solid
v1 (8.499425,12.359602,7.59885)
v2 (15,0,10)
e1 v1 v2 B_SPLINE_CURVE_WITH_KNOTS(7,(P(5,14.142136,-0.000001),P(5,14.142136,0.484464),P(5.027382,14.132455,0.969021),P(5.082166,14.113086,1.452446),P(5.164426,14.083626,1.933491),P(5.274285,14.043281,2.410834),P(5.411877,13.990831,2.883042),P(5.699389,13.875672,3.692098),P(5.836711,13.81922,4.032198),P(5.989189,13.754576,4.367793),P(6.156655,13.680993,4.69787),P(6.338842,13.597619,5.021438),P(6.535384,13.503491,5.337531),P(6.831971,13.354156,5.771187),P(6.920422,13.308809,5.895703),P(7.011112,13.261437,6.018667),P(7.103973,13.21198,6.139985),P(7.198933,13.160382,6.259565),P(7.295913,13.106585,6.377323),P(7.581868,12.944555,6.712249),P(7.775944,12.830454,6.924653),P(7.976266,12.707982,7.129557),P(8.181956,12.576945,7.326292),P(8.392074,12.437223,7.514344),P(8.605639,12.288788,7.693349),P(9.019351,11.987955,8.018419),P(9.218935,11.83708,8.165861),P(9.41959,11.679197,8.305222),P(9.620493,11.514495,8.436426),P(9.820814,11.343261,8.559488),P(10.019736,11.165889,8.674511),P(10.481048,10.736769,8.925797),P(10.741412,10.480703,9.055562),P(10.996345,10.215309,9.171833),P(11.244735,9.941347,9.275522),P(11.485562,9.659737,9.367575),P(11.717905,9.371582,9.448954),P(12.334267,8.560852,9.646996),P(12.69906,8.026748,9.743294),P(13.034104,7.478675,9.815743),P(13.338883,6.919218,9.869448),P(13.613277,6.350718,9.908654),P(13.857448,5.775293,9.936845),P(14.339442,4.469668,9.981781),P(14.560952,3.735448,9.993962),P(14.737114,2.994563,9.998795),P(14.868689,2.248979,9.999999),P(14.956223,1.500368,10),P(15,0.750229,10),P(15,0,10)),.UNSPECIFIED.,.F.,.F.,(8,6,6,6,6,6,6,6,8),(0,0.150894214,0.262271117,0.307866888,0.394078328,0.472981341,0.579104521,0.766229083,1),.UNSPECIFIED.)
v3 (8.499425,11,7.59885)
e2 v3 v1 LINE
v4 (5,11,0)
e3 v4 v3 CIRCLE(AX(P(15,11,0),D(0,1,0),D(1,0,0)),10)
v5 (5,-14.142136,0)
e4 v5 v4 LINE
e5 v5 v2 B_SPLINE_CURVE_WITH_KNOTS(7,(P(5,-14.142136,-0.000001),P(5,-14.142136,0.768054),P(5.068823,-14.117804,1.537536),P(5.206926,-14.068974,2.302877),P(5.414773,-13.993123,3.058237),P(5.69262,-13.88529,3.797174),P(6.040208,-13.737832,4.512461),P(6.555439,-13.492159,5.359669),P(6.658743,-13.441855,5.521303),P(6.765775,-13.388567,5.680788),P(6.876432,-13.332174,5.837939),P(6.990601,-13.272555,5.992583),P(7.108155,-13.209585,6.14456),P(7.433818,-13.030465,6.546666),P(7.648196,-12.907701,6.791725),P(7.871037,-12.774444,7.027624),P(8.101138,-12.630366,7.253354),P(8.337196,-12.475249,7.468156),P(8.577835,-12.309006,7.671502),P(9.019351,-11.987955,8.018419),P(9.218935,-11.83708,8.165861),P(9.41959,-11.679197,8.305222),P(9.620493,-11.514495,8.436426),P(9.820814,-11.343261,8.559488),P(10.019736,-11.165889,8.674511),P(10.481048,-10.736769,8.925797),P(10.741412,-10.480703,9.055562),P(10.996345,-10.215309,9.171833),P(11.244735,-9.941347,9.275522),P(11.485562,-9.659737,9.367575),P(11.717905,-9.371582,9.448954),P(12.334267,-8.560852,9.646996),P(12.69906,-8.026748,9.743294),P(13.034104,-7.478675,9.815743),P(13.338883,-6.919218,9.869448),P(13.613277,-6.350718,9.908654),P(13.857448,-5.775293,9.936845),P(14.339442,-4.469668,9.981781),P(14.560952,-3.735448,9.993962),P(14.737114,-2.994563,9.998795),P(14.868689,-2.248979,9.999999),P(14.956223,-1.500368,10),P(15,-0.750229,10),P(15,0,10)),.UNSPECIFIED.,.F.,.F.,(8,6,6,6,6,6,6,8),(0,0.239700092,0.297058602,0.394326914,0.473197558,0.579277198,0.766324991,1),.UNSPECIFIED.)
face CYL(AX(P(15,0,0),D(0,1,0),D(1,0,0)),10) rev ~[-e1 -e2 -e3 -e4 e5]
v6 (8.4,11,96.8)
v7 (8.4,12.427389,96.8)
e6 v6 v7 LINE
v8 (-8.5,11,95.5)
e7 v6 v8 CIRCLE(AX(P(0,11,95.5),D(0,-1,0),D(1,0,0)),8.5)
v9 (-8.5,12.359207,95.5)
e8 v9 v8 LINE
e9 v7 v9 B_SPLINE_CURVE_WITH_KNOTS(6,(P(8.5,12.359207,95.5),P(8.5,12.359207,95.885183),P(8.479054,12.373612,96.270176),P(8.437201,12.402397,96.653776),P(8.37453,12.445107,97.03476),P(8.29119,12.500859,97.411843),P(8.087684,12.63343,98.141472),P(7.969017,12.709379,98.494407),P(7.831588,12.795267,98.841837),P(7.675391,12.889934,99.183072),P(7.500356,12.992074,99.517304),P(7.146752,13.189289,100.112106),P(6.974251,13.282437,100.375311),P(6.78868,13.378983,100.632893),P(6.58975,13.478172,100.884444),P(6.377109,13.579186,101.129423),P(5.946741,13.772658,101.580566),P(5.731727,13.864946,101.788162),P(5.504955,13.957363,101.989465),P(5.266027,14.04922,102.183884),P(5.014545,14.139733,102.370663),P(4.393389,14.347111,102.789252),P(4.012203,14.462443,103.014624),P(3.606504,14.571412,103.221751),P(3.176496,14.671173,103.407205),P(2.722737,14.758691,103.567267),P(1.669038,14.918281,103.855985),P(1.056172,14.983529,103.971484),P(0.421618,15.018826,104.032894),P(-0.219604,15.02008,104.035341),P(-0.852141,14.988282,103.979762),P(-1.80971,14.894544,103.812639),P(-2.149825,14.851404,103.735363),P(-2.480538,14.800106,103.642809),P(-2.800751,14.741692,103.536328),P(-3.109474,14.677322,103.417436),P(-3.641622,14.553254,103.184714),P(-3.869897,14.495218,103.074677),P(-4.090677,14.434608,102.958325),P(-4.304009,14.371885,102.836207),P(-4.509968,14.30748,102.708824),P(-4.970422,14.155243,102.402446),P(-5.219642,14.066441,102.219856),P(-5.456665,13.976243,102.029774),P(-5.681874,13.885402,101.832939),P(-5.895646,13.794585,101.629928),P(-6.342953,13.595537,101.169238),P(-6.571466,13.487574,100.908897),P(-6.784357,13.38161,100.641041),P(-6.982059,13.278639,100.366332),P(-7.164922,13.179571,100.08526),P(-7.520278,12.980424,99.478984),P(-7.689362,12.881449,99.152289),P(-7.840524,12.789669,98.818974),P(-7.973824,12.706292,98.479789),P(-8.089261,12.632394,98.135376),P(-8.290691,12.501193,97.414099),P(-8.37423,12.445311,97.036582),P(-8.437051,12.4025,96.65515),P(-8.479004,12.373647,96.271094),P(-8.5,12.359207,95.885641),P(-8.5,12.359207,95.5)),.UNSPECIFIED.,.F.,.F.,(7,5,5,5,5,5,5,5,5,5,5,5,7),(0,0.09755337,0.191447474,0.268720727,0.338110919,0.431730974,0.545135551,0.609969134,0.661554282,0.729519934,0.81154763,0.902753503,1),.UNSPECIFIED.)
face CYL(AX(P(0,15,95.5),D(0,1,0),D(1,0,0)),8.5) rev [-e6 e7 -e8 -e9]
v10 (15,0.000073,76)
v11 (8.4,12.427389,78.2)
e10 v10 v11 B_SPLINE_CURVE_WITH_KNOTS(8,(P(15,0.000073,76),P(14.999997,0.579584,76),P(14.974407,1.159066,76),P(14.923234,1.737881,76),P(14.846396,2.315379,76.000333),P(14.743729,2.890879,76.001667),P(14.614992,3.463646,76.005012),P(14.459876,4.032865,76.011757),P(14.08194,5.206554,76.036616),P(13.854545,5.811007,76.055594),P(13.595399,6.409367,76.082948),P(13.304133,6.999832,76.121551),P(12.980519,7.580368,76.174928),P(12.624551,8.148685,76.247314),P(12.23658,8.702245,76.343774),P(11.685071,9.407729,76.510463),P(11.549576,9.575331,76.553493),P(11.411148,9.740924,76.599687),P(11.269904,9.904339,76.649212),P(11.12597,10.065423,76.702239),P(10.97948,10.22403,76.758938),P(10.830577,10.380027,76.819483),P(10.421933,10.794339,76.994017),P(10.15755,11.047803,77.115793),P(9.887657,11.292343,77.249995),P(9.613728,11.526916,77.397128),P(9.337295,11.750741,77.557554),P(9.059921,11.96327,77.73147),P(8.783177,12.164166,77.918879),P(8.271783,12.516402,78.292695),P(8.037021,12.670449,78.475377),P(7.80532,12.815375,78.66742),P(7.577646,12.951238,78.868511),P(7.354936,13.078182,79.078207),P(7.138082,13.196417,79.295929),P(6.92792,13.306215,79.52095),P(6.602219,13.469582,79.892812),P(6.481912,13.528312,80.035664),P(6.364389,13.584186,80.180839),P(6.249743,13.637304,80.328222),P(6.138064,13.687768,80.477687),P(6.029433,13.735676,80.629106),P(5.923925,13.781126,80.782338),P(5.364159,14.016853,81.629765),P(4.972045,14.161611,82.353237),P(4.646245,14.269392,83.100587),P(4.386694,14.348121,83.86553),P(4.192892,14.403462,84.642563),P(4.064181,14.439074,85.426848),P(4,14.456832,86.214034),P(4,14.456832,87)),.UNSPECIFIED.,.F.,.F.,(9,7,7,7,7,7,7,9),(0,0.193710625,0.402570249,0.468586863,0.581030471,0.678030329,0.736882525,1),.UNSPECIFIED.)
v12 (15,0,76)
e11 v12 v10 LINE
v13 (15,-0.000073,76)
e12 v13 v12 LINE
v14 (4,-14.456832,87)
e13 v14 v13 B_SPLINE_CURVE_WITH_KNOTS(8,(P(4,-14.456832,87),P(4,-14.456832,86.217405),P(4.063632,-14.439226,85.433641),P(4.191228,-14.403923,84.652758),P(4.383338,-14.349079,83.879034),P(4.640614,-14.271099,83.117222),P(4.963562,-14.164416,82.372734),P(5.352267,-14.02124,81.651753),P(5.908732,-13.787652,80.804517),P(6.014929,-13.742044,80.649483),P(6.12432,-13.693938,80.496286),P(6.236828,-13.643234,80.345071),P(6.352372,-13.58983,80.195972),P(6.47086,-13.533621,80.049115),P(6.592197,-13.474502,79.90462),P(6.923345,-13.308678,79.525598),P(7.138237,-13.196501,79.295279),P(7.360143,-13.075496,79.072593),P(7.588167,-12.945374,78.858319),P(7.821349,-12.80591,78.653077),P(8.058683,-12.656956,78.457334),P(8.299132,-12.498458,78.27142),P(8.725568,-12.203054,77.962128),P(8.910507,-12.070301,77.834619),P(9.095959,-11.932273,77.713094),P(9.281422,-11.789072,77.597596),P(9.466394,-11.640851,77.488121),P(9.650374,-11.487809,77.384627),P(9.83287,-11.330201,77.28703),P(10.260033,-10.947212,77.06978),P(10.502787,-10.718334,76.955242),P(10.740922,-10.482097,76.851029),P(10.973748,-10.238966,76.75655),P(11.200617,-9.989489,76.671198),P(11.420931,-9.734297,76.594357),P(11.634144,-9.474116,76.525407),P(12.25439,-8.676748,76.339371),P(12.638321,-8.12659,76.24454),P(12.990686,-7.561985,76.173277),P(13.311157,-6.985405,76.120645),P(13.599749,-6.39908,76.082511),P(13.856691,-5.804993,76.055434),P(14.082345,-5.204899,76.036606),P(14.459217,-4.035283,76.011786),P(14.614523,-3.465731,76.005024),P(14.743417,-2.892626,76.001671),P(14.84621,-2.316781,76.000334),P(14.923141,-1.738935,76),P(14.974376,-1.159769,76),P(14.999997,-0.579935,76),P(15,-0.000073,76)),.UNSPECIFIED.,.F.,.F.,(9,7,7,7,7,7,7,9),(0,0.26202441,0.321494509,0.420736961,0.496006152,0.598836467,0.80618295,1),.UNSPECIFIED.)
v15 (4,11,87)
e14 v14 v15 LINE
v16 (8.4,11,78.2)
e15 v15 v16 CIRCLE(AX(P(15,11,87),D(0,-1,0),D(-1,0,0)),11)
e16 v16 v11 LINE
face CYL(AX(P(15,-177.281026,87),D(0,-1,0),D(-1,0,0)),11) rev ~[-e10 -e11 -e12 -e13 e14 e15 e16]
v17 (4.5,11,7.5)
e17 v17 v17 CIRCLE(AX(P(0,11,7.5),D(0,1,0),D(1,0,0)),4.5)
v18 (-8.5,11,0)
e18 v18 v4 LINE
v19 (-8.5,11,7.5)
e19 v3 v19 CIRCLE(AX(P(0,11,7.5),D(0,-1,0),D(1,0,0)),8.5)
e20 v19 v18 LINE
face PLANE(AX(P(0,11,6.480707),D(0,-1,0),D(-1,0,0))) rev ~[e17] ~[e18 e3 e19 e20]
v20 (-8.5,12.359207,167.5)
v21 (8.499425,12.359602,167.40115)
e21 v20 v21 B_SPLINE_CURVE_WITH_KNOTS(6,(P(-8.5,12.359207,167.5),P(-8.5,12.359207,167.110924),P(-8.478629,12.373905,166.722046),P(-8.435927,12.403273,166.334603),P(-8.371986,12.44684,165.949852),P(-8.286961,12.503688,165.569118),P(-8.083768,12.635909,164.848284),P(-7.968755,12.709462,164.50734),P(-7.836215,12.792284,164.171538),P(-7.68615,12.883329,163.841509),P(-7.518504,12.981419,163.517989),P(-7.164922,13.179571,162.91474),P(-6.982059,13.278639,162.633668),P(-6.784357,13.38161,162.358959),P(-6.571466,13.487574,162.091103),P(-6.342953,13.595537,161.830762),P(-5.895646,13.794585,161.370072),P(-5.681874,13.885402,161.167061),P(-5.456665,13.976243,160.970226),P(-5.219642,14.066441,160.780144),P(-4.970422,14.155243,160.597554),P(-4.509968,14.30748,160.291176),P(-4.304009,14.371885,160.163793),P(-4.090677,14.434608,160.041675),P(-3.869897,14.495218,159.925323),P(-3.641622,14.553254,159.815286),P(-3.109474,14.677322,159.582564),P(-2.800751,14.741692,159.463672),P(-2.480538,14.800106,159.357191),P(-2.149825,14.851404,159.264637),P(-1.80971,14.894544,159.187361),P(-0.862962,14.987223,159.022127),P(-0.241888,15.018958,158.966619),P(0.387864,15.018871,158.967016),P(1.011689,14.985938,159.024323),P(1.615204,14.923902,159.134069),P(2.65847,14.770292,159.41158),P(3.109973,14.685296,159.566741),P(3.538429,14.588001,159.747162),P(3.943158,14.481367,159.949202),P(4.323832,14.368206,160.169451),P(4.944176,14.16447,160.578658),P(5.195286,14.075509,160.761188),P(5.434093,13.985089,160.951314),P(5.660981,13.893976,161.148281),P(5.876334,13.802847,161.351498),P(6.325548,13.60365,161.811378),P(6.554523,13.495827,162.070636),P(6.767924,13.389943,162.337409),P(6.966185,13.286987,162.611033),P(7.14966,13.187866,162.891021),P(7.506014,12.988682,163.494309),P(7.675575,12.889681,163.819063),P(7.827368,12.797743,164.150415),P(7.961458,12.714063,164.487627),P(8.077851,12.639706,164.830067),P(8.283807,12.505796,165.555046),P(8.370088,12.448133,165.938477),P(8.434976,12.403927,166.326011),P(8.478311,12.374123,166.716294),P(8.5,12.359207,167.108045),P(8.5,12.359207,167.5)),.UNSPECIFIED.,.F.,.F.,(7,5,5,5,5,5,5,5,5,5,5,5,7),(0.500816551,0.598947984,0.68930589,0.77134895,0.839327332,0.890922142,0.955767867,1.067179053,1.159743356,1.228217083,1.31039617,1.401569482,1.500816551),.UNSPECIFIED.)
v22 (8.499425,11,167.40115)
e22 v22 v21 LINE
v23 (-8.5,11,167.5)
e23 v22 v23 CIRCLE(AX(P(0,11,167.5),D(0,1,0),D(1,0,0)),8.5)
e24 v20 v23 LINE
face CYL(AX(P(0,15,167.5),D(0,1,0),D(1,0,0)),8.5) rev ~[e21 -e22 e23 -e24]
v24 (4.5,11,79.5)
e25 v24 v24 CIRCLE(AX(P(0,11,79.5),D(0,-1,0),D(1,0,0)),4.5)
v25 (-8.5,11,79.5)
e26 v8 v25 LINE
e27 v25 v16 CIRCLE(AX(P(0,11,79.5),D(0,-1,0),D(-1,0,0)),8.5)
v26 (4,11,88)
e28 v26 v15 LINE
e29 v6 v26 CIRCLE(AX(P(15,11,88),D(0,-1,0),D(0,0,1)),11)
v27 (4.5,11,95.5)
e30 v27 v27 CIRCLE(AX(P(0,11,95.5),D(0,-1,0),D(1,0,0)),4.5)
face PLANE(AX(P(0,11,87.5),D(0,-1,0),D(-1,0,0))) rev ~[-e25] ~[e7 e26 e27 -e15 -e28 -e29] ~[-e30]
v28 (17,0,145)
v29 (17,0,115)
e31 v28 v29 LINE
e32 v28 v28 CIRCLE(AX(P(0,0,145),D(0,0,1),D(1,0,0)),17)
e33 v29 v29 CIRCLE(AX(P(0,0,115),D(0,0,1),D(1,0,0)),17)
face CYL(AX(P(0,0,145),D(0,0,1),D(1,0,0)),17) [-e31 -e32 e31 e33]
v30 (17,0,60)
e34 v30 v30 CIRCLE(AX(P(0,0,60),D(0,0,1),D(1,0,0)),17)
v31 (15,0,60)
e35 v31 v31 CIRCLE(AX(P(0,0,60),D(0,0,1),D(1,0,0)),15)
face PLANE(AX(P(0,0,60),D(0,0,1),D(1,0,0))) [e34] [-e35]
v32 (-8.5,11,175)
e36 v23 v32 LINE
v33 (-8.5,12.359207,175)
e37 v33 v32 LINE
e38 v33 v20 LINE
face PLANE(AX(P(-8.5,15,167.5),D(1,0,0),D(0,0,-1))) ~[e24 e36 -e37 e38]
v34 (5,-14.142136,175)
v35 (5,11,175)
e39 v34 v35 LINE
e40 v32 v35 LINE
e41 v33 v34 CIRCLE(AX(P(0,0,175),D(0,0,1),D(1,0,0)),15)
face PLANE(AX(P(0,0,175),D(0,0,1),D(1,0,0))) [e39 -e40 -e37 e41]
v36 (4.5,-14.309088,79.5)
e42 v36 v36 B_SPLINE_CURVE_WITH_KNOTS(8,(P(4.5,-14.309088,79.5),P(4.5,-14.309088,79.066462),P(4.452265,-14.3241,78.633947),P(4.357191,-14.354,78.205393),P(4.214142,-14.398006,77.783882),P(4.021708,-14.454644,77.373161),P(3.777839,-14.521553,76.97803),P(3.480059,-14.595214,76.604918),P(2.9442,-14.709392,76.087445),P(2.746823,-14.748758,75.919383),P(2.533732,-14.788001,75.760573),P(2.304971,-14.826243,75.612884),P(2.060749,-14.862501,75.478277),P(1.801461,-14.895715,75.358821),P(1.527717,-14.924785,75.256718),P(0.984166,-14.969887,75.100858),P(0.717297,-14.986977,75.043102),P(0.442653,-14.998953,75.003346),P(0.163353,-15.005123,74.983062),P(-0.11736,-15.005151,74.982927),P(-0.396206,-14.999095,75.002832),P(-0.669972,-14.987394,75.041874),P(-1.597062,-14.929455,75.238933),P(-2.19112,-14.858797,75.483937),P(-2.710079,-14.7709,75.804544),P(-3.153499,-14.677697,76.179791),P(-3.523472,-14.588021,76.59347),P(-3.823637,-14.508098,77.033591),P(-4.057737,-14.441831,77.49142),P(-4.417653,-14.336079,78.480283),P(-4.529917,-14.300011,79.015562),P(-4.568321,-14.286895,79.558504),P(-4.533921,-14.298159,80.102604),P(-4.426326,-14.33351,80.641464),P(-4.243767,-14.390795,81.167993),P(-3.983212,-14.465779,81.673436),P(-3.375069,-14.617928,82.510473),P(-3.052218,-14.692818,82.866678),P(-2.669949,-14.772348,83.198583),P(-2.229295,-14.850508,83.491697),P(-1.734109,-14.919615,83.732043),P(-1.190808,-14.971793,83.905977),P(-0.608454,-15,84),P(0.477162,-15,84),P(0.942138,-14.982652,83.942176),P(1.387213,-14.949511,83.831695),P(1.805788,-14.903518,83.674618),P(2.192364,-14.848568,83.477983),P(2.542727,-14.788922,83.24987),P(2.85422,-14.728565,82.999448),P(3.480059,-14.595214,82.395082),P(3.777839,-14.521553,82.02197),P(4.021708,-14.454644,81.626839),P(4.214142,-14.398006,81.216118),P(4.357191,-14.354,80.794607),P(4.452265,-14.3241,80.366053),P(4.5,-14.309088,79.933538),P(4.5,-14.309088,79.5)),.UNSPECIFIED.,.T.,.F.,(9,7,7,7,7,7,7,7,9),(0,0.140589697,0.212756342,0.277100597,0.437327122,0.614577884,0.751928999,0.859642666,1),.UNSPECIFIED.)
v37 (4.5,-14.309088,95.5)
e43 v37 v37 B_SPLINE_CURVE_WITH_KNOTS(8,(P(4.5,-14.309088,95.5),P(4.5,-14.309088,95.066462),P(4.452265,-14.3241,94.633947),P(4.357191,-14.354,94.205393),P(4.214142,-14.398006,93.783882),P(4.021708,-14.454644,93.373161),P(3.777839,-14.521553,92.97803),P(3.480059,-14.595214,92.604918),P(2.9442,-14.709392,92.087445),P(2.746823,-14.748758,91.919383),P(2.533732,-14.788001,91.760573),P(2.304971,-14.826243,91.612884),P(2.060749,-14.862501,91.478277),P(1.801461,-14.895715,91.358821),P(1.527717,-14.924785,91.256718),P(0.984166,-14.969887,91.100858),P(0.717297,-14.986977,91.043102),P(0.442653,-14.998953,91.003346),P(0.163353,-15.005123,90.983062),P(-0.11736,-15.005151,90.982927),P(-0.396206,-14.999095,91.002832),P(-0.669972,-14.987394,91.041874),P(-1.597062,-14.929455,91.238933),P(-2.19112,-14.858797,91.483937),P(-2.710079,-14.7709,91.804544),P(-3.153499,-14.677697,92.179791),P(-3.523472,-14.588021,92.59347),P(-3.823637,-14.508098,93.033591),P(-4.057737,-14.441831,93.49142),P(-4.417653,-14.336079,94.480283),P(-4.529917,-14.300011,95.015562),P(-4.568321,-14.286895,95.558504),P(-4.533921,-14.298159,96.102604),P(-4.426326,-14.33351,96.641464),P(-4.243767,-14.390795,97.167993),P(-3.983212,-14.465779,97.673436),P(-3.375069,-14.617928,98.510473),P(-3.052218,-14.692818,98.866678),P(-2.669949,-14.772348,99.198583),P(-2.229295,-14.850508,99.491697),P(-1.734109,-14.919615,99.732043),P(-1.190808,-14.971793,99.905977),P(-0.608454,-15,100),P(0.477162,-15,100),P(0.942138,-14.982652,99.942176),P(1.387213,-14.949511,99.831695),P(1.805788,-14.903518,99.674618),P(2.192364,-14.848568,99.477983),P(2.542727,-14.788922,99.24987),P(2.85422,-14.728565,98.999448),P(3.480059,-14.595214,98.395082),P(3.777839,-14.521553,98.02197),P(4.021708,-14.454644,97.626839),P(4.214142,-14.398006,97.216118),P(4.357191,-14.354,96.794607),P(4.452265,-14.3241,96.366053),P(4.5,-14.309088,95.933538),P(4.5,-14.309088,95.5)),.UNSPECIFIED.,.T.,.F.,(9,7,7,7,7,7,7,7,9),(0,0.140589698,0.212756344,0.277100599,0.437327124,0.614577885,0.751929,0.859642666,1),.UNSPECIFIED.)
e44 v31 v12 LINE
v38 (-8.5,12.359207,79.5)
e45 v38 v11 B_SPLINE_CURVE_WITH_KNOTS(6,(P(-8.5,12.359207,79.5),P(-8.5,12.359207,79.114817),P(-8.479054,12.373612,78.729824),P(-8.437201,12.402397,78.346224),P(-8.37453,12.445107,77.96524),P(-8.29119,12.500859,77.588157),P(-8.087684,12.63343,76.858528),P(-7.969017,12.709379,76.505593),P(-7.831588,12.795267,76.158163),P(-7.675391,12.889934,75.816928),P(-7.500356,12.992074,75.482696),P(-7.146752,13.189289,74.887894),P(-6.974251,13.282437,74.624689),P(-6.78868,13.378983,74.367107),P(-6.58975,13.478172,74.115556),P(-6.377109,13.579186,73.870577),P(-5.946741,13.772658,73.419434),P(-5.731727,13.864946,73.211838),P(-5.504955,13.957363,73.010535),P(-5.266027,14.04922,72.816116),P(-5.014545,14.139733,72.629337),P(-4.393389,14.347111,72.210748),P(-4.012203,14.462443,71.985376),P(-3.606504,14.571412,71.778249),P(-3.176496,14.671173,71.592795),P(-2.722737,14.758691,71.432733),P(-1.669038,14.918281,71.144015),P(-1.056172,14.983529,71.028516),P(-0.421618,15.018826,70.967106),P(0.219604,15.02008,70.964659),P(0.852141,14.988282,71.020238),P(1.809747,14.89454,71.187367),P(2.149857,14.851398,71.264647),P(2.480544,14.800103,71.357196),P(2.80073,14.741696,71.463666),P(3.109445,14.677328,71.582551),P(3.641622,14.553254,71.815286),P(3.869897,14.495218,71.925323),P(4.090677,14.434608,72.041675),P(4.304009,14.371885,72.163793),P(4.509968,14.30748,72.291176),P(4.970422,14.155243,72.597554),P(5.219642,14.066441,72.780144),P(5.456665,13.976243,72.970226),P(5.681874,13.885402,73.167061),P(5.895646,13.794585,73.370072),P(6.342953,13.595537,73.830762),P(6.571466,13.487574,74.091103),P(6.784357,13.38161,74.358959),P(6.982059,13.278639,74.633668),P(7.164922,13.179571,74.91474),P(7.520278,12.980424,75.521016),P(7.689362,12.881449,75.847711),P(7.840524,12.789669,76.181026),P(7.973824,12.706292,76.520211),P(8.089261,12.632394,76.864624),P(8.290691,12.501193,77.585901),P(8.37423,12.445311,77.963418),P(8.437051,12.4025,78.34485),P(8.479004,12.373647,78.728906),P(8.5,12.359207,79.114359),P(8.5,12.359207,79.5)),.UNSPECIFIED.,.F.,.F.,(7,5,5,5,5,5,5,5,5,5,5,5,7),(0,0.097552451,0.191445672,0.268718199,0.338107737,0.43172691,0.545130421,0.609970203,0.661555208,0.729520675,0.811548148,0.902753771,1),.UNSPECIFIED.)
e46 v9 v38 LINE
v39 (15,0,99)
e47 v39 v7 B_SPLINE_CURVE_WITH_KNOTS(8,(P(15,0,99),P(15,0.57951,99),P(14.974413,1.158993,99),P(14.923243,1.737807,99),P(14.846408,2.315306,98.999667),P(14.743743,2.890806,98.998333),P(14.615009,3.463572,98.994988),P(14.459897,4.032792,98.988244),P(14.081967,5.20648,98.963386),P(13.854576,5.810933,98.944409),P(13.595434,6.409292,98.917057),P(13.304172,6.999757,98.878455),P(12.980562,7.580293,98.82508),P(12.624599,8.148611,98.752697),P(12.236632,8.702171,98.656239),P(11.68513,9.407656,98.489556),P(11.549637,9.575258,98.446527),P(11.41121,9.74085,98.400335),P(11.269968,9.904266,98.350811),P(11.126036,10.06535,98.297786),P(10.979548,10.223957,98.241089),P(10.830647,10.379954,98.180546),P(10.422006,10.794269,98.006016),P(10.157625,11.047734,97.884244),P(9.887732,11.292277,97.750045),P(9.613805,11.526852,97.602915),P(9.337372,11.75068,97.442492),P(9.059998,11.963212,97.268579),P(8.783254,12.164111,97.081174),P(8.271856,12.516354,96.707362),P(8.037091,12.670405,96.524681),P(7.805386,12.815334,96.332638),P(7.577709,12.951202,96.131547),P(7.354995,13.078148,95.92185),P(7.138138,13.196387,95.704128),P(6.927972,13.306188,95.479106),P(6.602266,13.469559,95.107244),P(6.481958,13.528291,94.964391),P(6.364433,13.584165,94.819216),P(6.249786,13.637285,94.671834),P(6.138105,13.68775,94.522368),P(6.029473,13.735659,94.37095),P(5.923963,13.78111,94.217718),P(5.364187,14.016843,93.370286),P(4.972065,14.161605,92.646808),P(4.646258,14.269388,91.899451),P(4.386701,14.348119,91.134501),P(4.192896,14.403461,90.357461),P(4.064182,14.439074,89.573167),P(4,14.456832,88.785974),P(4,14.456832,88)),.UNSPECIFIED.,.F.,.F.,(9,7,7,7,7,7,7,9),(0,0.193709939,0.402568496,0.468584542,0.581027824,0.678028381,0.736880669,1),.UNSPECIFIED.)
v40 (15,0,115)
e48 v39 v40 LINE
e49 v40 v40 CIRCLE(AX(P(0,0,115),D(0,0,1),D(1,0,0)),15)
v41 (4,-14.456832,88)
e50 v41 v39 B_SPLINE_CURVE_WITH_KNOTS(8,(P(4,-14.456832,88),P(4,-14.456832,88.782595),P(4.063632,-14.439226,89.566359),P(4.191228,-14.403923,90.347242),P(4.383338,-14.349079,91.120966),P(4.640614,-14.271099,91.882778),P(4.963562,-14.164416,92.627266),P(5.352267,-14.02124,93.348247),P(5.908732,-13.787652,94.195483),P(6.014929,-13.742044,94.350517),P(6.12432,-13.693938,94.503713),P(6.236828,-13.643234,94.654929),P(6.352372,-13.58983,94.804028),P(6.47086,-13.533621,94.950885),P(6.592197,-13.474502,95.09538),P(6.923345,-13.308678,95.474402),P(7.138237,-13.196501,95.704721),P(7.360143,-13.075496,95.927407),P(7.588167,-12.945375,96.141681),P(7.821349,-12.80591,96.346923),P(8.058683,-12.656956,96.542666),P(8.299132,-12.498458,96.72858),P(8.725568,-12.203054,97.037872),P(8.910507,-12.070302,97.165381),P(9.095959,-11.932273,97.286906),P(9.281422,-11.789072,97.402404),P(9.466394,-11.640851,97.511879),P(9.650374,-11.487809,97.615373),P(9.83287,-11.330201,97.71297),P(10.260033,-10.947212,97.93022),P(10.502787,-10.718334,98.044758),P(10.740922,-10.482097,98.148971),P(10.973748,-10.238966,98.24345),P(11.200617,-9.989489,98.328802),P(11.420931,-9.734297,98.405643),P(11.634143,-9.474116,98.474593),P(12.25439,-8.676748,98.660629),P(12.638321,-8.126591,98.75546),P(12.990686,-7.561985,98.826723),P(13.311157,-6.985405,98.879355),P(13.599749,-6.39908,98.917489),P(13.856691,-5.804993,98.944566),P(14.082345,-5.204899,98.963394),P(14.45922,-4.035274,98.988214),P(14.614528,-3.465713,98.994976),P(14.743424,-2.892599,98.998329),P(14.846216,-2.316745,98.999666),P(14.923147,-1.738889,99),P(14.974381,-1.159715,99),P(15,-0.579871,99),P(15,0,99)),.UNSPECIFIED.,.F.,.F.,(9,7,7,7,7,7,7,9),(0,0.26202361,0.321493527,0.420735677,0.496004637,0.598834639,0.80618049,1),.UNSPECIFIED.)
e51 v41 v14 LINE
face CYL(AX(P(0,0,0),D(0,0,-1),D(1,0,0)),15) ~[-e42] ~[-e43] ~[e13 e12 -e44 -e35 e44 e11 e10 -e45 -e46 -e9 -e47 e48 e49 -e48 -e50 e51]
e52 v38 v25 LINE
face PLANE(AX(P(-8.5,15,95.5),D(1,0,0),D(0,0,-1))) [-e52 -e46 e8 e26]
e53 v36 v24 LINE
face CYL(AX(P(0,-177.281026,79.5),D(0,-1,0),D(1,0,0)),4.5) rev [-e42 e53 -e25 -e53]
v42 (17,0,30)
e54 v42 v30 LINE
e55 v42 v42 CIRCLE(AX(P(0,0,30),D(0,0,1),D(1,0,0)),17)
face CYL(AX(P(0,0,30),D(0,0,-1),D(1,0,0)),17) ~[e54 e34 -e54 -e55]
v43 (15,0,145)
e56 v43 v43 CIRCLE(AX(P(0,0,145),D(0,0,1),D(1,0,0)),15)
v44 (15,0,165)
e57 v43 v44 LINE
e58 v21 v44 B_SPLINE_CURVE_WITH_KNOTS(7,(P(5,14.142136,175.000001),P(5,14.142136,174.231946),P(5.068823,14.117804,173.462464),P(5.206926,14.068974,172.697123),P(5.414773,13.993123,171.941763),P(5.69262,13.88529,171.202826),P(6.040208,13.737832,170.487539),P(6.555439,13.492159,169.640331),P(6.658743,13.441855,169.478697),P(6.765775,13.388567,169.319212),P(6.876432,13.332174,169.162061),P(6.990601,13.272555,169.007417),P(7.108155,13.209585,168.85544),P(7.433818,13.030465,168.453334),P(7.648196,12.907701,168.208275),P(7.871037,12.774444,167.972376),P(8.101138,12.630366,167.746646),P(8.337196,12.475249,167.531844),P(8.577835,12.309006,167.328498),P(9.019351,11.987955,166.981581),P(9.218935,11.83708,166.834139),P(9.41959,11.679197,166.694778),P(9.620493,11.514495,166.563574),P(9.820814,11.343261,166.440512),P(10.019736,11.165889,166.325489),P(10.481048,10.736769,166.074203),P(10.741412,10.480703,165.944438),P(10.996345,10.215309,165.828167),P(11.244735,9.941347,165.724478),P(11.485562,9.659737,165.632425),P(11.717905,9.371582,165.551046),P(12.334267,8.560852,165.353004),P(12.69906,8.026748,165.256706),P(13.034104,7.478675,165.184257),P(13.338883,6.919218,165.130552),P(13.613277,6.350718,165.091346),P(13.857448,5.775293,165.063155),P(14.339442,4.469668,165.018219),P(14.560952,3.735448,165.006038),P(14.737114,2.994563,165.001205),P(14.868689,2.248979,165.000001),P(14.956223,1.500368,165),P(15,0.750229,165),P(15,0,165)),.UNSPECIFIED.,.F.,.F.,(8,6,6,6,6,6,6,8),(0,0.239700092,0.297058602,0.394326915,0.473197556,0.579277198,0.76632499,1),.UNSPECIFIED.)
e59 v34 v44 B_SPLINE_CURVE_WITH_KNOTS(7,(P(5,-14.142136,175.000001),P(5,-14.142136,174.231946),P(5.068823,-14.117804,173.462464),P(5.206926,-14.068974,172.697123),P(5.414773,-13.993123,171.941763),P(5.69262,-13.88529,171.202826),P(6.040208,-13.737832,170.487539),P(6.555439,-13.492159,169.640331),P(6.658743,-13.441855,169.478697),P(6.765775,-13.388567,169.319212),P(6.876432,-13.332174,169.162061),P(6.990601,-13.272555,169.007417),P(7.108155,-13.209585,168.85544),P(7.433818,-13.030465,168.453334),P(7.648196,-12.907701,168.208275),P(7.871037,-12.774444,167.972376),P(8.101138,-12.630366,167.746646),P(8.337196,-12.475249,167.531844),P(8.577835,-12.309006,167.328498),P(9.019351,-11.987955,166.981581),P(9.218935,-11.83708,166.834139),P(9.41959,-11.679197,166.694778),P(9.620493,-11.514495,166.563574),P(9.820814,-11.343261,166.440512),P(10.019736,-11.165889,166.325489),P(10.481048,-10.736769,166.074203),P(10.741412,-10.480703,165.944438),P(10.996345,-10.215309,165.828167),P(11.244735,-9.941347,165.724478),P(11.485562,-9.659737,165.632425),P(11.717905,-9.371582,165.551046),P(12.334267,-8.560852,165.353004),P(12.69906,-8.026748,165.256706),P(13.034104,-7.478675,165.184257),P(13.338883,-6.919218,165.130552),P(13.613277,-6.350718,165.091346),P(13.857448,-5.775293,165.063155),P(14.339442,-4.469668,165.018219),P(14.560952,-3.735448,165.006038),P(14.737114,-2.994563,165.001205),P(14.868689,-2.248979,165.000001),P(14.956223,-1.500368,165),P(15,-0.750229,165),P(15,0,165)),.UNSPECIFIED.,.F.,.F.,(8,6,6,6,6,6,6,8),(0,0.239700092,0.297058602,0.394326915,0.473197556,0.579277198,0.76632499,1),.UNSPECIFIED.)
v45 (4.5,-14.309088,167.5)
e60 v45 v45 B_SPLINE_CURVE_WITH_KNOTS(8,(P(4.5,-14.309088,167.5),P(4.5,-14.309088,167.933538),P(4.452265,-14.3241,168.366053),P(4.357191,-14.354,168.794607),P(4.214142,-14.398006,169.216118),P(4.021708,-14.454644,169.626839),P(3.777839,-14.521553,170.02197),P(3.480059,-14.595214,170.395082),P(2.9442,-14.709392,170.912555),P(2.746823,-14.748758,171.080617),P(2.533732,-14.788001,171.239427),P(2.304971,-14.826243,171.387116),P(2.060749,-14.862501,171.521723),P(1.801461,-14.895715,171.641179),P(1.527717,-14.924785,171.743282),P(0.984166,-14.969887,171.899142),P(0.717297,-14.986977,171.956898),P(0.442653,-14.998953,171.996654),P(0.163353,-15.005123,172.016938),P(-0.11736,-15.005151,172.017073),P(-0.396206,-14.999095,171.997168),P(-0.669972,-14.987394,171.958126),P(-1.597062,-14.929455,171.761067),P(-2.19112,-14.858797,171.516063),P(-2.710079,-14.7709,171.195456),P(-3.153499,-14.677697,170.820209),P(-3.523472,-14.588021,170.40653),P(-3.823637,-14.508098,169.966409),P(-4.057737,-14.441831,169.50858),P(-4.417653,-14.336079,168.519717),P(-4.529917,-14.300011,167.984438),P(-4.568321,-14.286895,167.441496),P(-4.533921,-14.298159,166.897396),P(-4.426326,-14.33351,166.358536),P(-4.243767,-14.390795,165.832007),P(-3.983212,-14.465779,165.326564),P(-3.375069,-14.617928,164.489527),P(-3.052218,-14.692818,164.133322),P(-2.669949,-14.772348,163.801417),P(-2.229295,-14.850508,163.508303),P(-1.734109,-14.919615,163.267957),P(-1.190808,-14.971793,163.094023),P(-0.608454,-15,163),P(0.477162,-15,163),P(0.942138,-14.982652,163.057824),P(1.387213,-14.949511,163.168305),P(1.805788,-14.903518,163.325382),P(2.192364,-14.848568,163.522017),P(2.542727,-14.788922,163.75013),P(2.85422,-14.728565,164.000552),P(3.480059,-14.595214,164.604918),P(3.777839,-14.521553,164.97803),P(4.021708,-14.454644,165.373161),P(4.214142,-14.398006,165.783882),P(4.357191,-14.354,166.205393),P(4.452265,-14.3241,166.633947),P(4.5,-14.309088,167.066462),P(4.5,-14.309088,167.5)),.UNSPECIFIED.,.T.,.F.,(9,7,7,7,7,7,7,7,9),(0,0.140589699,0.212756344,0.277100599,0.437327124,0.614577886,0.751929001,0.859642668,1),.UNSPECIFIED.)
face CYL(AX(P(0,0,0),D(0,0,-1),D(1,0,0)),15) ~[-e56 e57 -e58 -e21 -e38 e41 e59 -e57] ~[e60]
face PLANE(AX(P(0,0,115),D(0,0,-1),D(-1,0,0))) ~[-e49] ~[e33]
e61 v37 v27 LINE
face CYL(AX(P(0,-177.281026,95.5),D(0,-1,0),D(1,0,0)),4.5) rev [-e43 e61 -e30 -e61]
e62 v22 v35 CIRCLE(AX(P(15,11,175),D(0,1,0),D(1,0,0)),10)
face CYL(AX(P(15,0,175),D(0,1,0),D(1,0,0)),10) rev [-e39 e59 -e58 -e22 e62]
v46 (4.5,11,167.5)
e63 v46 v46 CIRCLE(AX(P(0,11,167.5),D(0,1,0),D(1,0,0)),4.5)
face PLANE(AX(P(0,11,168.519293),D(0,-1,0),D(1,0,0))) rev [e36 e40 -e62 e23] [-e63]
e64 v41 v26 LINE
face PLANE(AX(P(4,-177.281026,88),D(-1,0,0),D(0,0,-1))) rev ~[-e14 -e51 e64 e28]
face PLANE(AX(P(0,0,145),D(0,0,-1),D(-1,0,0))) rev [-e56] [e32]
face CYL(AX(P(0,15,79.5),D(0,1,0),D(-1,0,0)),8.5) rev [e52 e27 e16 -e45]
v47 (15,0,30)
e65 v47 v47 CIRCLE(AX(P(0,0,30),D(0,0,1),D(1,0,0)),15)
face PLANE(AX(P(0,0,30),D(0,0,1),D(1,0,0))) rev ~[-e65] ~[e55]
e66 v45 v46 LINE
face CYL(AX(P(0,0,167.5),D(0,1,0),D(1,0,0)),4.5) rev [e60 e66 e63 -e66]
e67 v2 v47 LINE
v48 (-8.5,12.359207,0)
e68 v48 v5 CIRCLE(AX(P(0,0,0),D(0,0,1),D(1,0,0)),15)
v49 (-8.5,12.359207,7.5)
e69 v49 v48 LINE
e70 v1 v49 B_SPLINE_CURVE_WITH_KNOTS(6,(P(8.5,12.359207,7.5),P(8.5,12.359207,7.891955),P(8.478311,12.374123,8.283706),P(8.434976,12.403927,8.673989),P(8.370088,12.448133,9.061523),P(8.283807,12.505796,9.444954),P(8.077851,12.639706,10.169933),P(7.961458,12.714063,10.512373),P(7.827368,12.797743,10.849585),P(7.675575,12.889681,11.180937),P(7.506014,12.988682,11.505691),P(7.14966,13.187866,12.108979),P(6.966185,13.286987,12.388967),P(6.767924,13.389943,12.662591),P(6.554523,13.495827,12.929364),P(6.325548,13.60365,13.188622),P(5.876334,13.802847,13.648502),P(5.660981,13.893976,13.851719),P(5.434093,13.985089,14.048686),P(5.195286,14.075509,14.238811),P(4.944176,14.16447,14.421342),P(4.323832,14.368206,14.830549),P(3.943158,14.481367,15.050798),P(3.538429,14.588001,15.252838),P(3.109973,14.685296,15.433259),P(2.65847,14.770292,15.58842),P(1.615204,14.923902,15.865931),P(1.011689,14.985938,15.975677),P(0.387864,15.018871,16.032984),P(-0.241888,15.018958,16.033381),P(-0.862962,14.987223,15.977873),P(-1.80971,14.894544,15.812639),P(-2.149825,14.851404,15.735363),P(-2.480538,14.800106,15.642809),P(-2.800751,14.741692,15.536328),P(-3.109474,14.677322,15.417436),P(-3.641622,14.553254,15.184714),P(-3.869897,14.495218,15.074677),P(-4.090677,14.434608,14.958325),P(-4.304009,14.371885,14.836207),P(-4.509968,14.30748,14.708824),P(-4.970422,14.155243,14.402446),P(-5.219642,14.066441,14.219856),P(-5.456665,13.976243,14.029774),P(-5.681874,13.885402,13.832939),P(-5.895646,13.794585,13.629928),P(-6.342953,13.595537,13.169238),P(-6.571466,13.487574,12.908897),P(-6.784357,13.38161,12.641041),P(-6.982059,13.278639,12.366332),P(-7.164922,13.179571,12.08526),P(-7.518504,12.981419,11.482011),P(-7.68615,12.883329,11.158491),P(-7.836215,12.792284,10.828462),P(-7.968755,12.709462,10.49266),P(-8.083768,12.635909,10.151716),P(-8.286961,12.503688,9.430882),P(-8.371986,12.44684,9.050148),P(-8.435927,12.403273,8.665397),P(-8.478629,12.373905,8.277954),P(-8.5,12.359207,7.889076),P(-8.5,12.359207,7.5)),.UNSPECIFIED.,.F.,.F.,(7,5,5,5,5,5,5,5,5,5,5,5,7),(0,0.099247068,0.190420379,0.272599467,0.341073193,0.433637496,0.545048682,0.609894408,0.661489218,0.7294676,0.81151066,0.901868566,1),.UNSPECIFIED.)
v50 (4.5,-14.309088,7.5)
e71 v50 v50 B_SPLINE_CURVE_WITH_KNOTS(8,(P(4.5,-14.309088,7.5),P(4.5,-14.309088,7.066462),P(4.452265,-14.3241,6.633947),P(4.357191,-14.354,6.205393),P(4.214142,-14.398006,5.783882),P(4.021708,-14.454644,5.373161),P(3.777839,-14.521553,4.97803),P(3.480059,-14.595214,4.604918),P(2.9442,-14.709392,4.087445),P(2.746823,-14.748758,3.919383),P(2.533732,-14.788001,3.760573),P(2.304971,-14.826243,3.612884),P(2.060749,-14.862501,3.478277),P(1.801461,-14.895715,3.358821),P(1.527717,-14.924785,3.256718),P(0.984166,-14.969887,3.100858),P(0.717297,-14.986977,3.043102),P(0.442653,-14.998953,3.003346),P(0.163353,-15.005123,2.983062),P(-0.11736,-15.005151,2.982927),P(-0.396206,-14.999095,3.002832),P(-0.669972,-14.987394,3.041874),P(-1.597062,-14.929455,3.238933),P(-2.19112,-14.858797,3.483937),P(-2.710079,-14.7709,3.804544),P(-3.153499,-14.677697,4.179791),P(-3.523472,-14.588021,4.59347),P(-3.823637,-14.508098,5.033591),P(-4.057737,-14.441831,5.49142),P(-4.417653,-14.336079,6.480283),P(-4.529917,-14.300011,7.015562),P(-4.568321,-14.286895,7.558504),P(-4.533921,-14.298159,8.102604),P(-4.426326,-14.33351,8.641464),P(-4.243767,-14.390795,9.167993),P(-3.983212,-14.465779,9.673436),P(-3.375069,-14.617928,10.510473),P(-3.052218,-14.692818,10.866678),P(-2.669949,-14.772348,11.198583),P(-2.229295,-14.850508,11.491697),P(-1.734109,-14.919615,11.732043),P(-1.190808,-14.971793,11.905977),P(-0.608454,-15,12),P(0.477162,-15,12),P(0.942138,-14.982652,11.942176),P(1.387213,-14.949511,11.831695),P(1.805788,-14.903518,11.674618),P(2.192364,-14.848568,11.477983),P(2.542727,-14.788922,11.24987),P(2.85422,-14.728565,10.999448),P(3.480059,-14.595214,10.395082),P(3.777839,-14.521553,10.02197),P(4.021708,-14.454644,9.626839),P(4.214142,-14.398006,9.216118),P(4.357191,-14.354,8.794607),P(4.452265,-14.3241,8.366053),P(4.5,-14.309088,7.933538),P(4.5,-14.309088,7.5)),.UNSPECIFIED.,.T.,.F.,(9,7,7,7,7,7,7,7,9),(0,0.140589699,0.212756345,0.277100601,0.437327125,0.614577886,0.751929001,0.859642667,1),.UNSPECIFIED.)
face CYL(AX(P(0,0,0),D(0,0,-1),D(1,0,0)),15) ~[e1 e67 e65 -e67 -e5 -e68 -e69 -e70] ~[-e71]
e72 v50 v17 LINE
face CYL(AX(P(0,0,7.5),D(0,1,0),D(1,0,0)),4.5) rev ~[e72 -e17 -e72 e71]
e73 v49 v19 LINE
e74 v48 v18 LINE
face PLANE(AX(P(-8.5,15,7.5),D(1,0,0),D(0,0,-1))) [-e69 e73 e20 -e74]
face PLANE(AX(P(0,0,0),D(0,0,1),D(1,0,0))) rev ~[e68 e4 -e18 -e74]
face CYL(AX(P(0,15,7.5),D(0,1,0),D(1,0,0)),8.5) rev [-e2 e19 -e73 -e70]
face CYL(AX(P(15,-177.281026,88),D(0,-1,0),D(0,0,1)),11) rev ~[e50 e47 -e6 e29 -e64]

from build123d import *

# Parameters (mm, degrees)
CROQUIS1_R                 = 15
SALIENTE_EXTRUIR1_DEPTH    = 175
CROQUIS2_R                 = 4.5
CORTAR_EXTRUIR1_DEPTH      = 177.281025638
CORTAR_EXTRUIR2_START      = 15
CORTAR_EXTRUIR2_DEPTH      = 4
CROQUIS4_R                 = 10
CORTAR_EXTRUIR3_DEPTH      = 177.281025756
CORTAR_EXTRUIR4_DEPTH      = 177.281025756
CORTAR_EXTRUIR4_DEPTH_BACK = 177.281025756
CROQUIS9_R                 = 4.5
CORTAR_EXTRUIR5_START      = 15
CORTAR_EXTRUIR5_DEPTH      = 4
CORTAR_EXTRUIR6_DEPTH      = 177.281025756
CORTAR_EXTRUIR6_DEPTH_BACK = 177.281025756
SALIENTE_EXTRUIR2_START    = 30
CROQUIS16_R                = 17
CROQUIS16_R_2              = 15
SALIENTE_EXTRUIR2_DEPTH    = 30


with BuildPart() as part:
    # Croquis1 → Saliente-Extruir1 (new body)
    with BuildSketch(Plane.XY):
        Circle(CROQUIS1_R)
    extrude(amount=SALIENTE_EXTRUIR1_DEPTH)

    # Croquis2 → Cortar-Extruir1 (cut, symmetric)
    with BuildSketch(Plane(origin=(0, 0, 0), x_dir=(1, 0, 0), z_dir=(0, 1, 0))):
        with Locations((0, -7.5)):
            Circle(CROQUIS2_R)
    cortar_extruir1 = extrude(amount=CORTAR_EXTRUIR1_DEPTH, both=True, mode=Mode.SUBTRACT)

    # Croquis3 → Cortar-Extruir2 (cut)
    with BuildSketch(Plane(origin=(0, 0, 0), x_dir=(1, 0, 0), z_dir=(0, 1, 0)).offset(CORTAR_EXTRUIR2_START)):
        with BuildLine():
            Line((-8.5, -7.5), (-8.5, 0))
            Line((-8.5, 0), (8.5, 0))
            Line((8.5, 0), (8.5, -7.5))
            ThreePointArc((8.5, -7.5), (0, -16), (-8.5, -7.5))
        make_face()
    cortar_extruir2 = extrude(amount=-CORTAR_EXTRUIR2_DEPTH, mode=Mode.SUBTRACT)

    # Croquis4 → Cortar-Extruir3 (cut, symmetric)
    with BuildSketch(Plane(origin=(0, 0, 0), x_dir=(1, 0, 0), z_dir=(0, 1, 0))):
        with Locations((15, 0)):
            Circle(CROQUIS4_R)
    cortar_extruir3 = extrude(amount=CORTAR_EXTRUIR3_DEPTH, both=True, mode=Mode.SUBTRACT)

    # Simetría1: Cortar-Extruir1, Cortar-Extruir2, Cortar-Extruir3 across plane
    add(cortar_extruir1.mirror(Plane.XY.offset(87.5)), mode=Mode.SUBTRACT)
    add(cortar_extruir2.mirror(Plane.XY.offset(87.5)), mode=Mode.SUBTRACT)
    add(cortar_extruir3.mirror(Plane.XY.offset(87.5)), mode=Mode.SUBTRACT)

    # Croquis9 → Cortar-Extruir4 (cut, two sides: drawn at the far end of the back side and taken through both)
    with BuildSketch(Plane(origin=(0, 0, 0), x_dir=(1, 0, 0), z_dir=(0, 1, 0)).offset(-CORTAR_EXTRUIR4_DEPTH_BACK)):
        with Locations((0, -79.5)):
            Circle(CROQUIS9_R)
        with Locations((0, -95.5)):
            Circle(CROQUIS9_R)
    extrude(amount=CORTAR_EXTRUIR4_DEPTH + CORTAR_EXTRUIR4_DEPTH_BACK, mode=Mode.SUBTRACT)

    # Croquis10 → Cortar-Extruir5 (cut)
    with BuildSketch(Plane(origin=(0, 0, 0), x_dir=(1, 0, 0), z_dir=(0, 1, 0)).offset(CORTAR_EXTRUIR5_START)):
        with BuildLine():
            Line((8.5, -79.5), (8.5, -95.5))
            ThreePointArc((8.5, -95.5), (0, -104), (-8.5, -95.5))
            Line((-8.5, -95.5), (-8.5, -79.5))
            ThreePointArc((-8.5, -79.5), (0, -71), (8.5, -79.5))
        make_face()
    extrude(amount=-CORTAR_EXTRUIR5_DEPTH, mode=Mode.SUBTRACT)

    # Croquis15 → Cortar-Extruir6 (cut, two sides: drawn at the far end of the back side and taken through both)
    with BuildSketch(Plane(origin=(0, 0, 0), x_dir=(1, 0, 0), z_dir=(0, 1, 0)).offset(-CORTAR_EXTRUIR6_DEPTH_BACK)):
        with BuildLine():
            Line((4, -88), (4, -87))
            ThreePointArc((4, -87), (7.221825407, -79.221825407), (15, -76))
            Line((15, -76), (15, -99))
            ThreePointArc((15, -99), (7.221825407, -95.778174593), (4, -88))
        make_face()
    extrude(amount=CORTAR_EXTRUIR6_DEPTH + CORTAR_EXTRUIR6_DEPTH_BACK, mode=Mode.SUBTRACT)

    # Croquis16 → Saliente-Extruir2 (add)
    with BuildSketch(Plane.XY.offset(SALIENTE_EXTRUIR2_START)):
        Circle(CROQUIS16_R)
        Circle(CROQUIS16_R_2, mode=Mode.SUBTRACT)
    saliente_extruir2 = extrude(amount=SALIENTE_EXTRUIR2_DEPTH)

    # Simetría2: Saliente-Extruir2 across plane
    add(saliente_extruir2.mirror(Plane.XY.offset(87.5)))


solid = part.part
